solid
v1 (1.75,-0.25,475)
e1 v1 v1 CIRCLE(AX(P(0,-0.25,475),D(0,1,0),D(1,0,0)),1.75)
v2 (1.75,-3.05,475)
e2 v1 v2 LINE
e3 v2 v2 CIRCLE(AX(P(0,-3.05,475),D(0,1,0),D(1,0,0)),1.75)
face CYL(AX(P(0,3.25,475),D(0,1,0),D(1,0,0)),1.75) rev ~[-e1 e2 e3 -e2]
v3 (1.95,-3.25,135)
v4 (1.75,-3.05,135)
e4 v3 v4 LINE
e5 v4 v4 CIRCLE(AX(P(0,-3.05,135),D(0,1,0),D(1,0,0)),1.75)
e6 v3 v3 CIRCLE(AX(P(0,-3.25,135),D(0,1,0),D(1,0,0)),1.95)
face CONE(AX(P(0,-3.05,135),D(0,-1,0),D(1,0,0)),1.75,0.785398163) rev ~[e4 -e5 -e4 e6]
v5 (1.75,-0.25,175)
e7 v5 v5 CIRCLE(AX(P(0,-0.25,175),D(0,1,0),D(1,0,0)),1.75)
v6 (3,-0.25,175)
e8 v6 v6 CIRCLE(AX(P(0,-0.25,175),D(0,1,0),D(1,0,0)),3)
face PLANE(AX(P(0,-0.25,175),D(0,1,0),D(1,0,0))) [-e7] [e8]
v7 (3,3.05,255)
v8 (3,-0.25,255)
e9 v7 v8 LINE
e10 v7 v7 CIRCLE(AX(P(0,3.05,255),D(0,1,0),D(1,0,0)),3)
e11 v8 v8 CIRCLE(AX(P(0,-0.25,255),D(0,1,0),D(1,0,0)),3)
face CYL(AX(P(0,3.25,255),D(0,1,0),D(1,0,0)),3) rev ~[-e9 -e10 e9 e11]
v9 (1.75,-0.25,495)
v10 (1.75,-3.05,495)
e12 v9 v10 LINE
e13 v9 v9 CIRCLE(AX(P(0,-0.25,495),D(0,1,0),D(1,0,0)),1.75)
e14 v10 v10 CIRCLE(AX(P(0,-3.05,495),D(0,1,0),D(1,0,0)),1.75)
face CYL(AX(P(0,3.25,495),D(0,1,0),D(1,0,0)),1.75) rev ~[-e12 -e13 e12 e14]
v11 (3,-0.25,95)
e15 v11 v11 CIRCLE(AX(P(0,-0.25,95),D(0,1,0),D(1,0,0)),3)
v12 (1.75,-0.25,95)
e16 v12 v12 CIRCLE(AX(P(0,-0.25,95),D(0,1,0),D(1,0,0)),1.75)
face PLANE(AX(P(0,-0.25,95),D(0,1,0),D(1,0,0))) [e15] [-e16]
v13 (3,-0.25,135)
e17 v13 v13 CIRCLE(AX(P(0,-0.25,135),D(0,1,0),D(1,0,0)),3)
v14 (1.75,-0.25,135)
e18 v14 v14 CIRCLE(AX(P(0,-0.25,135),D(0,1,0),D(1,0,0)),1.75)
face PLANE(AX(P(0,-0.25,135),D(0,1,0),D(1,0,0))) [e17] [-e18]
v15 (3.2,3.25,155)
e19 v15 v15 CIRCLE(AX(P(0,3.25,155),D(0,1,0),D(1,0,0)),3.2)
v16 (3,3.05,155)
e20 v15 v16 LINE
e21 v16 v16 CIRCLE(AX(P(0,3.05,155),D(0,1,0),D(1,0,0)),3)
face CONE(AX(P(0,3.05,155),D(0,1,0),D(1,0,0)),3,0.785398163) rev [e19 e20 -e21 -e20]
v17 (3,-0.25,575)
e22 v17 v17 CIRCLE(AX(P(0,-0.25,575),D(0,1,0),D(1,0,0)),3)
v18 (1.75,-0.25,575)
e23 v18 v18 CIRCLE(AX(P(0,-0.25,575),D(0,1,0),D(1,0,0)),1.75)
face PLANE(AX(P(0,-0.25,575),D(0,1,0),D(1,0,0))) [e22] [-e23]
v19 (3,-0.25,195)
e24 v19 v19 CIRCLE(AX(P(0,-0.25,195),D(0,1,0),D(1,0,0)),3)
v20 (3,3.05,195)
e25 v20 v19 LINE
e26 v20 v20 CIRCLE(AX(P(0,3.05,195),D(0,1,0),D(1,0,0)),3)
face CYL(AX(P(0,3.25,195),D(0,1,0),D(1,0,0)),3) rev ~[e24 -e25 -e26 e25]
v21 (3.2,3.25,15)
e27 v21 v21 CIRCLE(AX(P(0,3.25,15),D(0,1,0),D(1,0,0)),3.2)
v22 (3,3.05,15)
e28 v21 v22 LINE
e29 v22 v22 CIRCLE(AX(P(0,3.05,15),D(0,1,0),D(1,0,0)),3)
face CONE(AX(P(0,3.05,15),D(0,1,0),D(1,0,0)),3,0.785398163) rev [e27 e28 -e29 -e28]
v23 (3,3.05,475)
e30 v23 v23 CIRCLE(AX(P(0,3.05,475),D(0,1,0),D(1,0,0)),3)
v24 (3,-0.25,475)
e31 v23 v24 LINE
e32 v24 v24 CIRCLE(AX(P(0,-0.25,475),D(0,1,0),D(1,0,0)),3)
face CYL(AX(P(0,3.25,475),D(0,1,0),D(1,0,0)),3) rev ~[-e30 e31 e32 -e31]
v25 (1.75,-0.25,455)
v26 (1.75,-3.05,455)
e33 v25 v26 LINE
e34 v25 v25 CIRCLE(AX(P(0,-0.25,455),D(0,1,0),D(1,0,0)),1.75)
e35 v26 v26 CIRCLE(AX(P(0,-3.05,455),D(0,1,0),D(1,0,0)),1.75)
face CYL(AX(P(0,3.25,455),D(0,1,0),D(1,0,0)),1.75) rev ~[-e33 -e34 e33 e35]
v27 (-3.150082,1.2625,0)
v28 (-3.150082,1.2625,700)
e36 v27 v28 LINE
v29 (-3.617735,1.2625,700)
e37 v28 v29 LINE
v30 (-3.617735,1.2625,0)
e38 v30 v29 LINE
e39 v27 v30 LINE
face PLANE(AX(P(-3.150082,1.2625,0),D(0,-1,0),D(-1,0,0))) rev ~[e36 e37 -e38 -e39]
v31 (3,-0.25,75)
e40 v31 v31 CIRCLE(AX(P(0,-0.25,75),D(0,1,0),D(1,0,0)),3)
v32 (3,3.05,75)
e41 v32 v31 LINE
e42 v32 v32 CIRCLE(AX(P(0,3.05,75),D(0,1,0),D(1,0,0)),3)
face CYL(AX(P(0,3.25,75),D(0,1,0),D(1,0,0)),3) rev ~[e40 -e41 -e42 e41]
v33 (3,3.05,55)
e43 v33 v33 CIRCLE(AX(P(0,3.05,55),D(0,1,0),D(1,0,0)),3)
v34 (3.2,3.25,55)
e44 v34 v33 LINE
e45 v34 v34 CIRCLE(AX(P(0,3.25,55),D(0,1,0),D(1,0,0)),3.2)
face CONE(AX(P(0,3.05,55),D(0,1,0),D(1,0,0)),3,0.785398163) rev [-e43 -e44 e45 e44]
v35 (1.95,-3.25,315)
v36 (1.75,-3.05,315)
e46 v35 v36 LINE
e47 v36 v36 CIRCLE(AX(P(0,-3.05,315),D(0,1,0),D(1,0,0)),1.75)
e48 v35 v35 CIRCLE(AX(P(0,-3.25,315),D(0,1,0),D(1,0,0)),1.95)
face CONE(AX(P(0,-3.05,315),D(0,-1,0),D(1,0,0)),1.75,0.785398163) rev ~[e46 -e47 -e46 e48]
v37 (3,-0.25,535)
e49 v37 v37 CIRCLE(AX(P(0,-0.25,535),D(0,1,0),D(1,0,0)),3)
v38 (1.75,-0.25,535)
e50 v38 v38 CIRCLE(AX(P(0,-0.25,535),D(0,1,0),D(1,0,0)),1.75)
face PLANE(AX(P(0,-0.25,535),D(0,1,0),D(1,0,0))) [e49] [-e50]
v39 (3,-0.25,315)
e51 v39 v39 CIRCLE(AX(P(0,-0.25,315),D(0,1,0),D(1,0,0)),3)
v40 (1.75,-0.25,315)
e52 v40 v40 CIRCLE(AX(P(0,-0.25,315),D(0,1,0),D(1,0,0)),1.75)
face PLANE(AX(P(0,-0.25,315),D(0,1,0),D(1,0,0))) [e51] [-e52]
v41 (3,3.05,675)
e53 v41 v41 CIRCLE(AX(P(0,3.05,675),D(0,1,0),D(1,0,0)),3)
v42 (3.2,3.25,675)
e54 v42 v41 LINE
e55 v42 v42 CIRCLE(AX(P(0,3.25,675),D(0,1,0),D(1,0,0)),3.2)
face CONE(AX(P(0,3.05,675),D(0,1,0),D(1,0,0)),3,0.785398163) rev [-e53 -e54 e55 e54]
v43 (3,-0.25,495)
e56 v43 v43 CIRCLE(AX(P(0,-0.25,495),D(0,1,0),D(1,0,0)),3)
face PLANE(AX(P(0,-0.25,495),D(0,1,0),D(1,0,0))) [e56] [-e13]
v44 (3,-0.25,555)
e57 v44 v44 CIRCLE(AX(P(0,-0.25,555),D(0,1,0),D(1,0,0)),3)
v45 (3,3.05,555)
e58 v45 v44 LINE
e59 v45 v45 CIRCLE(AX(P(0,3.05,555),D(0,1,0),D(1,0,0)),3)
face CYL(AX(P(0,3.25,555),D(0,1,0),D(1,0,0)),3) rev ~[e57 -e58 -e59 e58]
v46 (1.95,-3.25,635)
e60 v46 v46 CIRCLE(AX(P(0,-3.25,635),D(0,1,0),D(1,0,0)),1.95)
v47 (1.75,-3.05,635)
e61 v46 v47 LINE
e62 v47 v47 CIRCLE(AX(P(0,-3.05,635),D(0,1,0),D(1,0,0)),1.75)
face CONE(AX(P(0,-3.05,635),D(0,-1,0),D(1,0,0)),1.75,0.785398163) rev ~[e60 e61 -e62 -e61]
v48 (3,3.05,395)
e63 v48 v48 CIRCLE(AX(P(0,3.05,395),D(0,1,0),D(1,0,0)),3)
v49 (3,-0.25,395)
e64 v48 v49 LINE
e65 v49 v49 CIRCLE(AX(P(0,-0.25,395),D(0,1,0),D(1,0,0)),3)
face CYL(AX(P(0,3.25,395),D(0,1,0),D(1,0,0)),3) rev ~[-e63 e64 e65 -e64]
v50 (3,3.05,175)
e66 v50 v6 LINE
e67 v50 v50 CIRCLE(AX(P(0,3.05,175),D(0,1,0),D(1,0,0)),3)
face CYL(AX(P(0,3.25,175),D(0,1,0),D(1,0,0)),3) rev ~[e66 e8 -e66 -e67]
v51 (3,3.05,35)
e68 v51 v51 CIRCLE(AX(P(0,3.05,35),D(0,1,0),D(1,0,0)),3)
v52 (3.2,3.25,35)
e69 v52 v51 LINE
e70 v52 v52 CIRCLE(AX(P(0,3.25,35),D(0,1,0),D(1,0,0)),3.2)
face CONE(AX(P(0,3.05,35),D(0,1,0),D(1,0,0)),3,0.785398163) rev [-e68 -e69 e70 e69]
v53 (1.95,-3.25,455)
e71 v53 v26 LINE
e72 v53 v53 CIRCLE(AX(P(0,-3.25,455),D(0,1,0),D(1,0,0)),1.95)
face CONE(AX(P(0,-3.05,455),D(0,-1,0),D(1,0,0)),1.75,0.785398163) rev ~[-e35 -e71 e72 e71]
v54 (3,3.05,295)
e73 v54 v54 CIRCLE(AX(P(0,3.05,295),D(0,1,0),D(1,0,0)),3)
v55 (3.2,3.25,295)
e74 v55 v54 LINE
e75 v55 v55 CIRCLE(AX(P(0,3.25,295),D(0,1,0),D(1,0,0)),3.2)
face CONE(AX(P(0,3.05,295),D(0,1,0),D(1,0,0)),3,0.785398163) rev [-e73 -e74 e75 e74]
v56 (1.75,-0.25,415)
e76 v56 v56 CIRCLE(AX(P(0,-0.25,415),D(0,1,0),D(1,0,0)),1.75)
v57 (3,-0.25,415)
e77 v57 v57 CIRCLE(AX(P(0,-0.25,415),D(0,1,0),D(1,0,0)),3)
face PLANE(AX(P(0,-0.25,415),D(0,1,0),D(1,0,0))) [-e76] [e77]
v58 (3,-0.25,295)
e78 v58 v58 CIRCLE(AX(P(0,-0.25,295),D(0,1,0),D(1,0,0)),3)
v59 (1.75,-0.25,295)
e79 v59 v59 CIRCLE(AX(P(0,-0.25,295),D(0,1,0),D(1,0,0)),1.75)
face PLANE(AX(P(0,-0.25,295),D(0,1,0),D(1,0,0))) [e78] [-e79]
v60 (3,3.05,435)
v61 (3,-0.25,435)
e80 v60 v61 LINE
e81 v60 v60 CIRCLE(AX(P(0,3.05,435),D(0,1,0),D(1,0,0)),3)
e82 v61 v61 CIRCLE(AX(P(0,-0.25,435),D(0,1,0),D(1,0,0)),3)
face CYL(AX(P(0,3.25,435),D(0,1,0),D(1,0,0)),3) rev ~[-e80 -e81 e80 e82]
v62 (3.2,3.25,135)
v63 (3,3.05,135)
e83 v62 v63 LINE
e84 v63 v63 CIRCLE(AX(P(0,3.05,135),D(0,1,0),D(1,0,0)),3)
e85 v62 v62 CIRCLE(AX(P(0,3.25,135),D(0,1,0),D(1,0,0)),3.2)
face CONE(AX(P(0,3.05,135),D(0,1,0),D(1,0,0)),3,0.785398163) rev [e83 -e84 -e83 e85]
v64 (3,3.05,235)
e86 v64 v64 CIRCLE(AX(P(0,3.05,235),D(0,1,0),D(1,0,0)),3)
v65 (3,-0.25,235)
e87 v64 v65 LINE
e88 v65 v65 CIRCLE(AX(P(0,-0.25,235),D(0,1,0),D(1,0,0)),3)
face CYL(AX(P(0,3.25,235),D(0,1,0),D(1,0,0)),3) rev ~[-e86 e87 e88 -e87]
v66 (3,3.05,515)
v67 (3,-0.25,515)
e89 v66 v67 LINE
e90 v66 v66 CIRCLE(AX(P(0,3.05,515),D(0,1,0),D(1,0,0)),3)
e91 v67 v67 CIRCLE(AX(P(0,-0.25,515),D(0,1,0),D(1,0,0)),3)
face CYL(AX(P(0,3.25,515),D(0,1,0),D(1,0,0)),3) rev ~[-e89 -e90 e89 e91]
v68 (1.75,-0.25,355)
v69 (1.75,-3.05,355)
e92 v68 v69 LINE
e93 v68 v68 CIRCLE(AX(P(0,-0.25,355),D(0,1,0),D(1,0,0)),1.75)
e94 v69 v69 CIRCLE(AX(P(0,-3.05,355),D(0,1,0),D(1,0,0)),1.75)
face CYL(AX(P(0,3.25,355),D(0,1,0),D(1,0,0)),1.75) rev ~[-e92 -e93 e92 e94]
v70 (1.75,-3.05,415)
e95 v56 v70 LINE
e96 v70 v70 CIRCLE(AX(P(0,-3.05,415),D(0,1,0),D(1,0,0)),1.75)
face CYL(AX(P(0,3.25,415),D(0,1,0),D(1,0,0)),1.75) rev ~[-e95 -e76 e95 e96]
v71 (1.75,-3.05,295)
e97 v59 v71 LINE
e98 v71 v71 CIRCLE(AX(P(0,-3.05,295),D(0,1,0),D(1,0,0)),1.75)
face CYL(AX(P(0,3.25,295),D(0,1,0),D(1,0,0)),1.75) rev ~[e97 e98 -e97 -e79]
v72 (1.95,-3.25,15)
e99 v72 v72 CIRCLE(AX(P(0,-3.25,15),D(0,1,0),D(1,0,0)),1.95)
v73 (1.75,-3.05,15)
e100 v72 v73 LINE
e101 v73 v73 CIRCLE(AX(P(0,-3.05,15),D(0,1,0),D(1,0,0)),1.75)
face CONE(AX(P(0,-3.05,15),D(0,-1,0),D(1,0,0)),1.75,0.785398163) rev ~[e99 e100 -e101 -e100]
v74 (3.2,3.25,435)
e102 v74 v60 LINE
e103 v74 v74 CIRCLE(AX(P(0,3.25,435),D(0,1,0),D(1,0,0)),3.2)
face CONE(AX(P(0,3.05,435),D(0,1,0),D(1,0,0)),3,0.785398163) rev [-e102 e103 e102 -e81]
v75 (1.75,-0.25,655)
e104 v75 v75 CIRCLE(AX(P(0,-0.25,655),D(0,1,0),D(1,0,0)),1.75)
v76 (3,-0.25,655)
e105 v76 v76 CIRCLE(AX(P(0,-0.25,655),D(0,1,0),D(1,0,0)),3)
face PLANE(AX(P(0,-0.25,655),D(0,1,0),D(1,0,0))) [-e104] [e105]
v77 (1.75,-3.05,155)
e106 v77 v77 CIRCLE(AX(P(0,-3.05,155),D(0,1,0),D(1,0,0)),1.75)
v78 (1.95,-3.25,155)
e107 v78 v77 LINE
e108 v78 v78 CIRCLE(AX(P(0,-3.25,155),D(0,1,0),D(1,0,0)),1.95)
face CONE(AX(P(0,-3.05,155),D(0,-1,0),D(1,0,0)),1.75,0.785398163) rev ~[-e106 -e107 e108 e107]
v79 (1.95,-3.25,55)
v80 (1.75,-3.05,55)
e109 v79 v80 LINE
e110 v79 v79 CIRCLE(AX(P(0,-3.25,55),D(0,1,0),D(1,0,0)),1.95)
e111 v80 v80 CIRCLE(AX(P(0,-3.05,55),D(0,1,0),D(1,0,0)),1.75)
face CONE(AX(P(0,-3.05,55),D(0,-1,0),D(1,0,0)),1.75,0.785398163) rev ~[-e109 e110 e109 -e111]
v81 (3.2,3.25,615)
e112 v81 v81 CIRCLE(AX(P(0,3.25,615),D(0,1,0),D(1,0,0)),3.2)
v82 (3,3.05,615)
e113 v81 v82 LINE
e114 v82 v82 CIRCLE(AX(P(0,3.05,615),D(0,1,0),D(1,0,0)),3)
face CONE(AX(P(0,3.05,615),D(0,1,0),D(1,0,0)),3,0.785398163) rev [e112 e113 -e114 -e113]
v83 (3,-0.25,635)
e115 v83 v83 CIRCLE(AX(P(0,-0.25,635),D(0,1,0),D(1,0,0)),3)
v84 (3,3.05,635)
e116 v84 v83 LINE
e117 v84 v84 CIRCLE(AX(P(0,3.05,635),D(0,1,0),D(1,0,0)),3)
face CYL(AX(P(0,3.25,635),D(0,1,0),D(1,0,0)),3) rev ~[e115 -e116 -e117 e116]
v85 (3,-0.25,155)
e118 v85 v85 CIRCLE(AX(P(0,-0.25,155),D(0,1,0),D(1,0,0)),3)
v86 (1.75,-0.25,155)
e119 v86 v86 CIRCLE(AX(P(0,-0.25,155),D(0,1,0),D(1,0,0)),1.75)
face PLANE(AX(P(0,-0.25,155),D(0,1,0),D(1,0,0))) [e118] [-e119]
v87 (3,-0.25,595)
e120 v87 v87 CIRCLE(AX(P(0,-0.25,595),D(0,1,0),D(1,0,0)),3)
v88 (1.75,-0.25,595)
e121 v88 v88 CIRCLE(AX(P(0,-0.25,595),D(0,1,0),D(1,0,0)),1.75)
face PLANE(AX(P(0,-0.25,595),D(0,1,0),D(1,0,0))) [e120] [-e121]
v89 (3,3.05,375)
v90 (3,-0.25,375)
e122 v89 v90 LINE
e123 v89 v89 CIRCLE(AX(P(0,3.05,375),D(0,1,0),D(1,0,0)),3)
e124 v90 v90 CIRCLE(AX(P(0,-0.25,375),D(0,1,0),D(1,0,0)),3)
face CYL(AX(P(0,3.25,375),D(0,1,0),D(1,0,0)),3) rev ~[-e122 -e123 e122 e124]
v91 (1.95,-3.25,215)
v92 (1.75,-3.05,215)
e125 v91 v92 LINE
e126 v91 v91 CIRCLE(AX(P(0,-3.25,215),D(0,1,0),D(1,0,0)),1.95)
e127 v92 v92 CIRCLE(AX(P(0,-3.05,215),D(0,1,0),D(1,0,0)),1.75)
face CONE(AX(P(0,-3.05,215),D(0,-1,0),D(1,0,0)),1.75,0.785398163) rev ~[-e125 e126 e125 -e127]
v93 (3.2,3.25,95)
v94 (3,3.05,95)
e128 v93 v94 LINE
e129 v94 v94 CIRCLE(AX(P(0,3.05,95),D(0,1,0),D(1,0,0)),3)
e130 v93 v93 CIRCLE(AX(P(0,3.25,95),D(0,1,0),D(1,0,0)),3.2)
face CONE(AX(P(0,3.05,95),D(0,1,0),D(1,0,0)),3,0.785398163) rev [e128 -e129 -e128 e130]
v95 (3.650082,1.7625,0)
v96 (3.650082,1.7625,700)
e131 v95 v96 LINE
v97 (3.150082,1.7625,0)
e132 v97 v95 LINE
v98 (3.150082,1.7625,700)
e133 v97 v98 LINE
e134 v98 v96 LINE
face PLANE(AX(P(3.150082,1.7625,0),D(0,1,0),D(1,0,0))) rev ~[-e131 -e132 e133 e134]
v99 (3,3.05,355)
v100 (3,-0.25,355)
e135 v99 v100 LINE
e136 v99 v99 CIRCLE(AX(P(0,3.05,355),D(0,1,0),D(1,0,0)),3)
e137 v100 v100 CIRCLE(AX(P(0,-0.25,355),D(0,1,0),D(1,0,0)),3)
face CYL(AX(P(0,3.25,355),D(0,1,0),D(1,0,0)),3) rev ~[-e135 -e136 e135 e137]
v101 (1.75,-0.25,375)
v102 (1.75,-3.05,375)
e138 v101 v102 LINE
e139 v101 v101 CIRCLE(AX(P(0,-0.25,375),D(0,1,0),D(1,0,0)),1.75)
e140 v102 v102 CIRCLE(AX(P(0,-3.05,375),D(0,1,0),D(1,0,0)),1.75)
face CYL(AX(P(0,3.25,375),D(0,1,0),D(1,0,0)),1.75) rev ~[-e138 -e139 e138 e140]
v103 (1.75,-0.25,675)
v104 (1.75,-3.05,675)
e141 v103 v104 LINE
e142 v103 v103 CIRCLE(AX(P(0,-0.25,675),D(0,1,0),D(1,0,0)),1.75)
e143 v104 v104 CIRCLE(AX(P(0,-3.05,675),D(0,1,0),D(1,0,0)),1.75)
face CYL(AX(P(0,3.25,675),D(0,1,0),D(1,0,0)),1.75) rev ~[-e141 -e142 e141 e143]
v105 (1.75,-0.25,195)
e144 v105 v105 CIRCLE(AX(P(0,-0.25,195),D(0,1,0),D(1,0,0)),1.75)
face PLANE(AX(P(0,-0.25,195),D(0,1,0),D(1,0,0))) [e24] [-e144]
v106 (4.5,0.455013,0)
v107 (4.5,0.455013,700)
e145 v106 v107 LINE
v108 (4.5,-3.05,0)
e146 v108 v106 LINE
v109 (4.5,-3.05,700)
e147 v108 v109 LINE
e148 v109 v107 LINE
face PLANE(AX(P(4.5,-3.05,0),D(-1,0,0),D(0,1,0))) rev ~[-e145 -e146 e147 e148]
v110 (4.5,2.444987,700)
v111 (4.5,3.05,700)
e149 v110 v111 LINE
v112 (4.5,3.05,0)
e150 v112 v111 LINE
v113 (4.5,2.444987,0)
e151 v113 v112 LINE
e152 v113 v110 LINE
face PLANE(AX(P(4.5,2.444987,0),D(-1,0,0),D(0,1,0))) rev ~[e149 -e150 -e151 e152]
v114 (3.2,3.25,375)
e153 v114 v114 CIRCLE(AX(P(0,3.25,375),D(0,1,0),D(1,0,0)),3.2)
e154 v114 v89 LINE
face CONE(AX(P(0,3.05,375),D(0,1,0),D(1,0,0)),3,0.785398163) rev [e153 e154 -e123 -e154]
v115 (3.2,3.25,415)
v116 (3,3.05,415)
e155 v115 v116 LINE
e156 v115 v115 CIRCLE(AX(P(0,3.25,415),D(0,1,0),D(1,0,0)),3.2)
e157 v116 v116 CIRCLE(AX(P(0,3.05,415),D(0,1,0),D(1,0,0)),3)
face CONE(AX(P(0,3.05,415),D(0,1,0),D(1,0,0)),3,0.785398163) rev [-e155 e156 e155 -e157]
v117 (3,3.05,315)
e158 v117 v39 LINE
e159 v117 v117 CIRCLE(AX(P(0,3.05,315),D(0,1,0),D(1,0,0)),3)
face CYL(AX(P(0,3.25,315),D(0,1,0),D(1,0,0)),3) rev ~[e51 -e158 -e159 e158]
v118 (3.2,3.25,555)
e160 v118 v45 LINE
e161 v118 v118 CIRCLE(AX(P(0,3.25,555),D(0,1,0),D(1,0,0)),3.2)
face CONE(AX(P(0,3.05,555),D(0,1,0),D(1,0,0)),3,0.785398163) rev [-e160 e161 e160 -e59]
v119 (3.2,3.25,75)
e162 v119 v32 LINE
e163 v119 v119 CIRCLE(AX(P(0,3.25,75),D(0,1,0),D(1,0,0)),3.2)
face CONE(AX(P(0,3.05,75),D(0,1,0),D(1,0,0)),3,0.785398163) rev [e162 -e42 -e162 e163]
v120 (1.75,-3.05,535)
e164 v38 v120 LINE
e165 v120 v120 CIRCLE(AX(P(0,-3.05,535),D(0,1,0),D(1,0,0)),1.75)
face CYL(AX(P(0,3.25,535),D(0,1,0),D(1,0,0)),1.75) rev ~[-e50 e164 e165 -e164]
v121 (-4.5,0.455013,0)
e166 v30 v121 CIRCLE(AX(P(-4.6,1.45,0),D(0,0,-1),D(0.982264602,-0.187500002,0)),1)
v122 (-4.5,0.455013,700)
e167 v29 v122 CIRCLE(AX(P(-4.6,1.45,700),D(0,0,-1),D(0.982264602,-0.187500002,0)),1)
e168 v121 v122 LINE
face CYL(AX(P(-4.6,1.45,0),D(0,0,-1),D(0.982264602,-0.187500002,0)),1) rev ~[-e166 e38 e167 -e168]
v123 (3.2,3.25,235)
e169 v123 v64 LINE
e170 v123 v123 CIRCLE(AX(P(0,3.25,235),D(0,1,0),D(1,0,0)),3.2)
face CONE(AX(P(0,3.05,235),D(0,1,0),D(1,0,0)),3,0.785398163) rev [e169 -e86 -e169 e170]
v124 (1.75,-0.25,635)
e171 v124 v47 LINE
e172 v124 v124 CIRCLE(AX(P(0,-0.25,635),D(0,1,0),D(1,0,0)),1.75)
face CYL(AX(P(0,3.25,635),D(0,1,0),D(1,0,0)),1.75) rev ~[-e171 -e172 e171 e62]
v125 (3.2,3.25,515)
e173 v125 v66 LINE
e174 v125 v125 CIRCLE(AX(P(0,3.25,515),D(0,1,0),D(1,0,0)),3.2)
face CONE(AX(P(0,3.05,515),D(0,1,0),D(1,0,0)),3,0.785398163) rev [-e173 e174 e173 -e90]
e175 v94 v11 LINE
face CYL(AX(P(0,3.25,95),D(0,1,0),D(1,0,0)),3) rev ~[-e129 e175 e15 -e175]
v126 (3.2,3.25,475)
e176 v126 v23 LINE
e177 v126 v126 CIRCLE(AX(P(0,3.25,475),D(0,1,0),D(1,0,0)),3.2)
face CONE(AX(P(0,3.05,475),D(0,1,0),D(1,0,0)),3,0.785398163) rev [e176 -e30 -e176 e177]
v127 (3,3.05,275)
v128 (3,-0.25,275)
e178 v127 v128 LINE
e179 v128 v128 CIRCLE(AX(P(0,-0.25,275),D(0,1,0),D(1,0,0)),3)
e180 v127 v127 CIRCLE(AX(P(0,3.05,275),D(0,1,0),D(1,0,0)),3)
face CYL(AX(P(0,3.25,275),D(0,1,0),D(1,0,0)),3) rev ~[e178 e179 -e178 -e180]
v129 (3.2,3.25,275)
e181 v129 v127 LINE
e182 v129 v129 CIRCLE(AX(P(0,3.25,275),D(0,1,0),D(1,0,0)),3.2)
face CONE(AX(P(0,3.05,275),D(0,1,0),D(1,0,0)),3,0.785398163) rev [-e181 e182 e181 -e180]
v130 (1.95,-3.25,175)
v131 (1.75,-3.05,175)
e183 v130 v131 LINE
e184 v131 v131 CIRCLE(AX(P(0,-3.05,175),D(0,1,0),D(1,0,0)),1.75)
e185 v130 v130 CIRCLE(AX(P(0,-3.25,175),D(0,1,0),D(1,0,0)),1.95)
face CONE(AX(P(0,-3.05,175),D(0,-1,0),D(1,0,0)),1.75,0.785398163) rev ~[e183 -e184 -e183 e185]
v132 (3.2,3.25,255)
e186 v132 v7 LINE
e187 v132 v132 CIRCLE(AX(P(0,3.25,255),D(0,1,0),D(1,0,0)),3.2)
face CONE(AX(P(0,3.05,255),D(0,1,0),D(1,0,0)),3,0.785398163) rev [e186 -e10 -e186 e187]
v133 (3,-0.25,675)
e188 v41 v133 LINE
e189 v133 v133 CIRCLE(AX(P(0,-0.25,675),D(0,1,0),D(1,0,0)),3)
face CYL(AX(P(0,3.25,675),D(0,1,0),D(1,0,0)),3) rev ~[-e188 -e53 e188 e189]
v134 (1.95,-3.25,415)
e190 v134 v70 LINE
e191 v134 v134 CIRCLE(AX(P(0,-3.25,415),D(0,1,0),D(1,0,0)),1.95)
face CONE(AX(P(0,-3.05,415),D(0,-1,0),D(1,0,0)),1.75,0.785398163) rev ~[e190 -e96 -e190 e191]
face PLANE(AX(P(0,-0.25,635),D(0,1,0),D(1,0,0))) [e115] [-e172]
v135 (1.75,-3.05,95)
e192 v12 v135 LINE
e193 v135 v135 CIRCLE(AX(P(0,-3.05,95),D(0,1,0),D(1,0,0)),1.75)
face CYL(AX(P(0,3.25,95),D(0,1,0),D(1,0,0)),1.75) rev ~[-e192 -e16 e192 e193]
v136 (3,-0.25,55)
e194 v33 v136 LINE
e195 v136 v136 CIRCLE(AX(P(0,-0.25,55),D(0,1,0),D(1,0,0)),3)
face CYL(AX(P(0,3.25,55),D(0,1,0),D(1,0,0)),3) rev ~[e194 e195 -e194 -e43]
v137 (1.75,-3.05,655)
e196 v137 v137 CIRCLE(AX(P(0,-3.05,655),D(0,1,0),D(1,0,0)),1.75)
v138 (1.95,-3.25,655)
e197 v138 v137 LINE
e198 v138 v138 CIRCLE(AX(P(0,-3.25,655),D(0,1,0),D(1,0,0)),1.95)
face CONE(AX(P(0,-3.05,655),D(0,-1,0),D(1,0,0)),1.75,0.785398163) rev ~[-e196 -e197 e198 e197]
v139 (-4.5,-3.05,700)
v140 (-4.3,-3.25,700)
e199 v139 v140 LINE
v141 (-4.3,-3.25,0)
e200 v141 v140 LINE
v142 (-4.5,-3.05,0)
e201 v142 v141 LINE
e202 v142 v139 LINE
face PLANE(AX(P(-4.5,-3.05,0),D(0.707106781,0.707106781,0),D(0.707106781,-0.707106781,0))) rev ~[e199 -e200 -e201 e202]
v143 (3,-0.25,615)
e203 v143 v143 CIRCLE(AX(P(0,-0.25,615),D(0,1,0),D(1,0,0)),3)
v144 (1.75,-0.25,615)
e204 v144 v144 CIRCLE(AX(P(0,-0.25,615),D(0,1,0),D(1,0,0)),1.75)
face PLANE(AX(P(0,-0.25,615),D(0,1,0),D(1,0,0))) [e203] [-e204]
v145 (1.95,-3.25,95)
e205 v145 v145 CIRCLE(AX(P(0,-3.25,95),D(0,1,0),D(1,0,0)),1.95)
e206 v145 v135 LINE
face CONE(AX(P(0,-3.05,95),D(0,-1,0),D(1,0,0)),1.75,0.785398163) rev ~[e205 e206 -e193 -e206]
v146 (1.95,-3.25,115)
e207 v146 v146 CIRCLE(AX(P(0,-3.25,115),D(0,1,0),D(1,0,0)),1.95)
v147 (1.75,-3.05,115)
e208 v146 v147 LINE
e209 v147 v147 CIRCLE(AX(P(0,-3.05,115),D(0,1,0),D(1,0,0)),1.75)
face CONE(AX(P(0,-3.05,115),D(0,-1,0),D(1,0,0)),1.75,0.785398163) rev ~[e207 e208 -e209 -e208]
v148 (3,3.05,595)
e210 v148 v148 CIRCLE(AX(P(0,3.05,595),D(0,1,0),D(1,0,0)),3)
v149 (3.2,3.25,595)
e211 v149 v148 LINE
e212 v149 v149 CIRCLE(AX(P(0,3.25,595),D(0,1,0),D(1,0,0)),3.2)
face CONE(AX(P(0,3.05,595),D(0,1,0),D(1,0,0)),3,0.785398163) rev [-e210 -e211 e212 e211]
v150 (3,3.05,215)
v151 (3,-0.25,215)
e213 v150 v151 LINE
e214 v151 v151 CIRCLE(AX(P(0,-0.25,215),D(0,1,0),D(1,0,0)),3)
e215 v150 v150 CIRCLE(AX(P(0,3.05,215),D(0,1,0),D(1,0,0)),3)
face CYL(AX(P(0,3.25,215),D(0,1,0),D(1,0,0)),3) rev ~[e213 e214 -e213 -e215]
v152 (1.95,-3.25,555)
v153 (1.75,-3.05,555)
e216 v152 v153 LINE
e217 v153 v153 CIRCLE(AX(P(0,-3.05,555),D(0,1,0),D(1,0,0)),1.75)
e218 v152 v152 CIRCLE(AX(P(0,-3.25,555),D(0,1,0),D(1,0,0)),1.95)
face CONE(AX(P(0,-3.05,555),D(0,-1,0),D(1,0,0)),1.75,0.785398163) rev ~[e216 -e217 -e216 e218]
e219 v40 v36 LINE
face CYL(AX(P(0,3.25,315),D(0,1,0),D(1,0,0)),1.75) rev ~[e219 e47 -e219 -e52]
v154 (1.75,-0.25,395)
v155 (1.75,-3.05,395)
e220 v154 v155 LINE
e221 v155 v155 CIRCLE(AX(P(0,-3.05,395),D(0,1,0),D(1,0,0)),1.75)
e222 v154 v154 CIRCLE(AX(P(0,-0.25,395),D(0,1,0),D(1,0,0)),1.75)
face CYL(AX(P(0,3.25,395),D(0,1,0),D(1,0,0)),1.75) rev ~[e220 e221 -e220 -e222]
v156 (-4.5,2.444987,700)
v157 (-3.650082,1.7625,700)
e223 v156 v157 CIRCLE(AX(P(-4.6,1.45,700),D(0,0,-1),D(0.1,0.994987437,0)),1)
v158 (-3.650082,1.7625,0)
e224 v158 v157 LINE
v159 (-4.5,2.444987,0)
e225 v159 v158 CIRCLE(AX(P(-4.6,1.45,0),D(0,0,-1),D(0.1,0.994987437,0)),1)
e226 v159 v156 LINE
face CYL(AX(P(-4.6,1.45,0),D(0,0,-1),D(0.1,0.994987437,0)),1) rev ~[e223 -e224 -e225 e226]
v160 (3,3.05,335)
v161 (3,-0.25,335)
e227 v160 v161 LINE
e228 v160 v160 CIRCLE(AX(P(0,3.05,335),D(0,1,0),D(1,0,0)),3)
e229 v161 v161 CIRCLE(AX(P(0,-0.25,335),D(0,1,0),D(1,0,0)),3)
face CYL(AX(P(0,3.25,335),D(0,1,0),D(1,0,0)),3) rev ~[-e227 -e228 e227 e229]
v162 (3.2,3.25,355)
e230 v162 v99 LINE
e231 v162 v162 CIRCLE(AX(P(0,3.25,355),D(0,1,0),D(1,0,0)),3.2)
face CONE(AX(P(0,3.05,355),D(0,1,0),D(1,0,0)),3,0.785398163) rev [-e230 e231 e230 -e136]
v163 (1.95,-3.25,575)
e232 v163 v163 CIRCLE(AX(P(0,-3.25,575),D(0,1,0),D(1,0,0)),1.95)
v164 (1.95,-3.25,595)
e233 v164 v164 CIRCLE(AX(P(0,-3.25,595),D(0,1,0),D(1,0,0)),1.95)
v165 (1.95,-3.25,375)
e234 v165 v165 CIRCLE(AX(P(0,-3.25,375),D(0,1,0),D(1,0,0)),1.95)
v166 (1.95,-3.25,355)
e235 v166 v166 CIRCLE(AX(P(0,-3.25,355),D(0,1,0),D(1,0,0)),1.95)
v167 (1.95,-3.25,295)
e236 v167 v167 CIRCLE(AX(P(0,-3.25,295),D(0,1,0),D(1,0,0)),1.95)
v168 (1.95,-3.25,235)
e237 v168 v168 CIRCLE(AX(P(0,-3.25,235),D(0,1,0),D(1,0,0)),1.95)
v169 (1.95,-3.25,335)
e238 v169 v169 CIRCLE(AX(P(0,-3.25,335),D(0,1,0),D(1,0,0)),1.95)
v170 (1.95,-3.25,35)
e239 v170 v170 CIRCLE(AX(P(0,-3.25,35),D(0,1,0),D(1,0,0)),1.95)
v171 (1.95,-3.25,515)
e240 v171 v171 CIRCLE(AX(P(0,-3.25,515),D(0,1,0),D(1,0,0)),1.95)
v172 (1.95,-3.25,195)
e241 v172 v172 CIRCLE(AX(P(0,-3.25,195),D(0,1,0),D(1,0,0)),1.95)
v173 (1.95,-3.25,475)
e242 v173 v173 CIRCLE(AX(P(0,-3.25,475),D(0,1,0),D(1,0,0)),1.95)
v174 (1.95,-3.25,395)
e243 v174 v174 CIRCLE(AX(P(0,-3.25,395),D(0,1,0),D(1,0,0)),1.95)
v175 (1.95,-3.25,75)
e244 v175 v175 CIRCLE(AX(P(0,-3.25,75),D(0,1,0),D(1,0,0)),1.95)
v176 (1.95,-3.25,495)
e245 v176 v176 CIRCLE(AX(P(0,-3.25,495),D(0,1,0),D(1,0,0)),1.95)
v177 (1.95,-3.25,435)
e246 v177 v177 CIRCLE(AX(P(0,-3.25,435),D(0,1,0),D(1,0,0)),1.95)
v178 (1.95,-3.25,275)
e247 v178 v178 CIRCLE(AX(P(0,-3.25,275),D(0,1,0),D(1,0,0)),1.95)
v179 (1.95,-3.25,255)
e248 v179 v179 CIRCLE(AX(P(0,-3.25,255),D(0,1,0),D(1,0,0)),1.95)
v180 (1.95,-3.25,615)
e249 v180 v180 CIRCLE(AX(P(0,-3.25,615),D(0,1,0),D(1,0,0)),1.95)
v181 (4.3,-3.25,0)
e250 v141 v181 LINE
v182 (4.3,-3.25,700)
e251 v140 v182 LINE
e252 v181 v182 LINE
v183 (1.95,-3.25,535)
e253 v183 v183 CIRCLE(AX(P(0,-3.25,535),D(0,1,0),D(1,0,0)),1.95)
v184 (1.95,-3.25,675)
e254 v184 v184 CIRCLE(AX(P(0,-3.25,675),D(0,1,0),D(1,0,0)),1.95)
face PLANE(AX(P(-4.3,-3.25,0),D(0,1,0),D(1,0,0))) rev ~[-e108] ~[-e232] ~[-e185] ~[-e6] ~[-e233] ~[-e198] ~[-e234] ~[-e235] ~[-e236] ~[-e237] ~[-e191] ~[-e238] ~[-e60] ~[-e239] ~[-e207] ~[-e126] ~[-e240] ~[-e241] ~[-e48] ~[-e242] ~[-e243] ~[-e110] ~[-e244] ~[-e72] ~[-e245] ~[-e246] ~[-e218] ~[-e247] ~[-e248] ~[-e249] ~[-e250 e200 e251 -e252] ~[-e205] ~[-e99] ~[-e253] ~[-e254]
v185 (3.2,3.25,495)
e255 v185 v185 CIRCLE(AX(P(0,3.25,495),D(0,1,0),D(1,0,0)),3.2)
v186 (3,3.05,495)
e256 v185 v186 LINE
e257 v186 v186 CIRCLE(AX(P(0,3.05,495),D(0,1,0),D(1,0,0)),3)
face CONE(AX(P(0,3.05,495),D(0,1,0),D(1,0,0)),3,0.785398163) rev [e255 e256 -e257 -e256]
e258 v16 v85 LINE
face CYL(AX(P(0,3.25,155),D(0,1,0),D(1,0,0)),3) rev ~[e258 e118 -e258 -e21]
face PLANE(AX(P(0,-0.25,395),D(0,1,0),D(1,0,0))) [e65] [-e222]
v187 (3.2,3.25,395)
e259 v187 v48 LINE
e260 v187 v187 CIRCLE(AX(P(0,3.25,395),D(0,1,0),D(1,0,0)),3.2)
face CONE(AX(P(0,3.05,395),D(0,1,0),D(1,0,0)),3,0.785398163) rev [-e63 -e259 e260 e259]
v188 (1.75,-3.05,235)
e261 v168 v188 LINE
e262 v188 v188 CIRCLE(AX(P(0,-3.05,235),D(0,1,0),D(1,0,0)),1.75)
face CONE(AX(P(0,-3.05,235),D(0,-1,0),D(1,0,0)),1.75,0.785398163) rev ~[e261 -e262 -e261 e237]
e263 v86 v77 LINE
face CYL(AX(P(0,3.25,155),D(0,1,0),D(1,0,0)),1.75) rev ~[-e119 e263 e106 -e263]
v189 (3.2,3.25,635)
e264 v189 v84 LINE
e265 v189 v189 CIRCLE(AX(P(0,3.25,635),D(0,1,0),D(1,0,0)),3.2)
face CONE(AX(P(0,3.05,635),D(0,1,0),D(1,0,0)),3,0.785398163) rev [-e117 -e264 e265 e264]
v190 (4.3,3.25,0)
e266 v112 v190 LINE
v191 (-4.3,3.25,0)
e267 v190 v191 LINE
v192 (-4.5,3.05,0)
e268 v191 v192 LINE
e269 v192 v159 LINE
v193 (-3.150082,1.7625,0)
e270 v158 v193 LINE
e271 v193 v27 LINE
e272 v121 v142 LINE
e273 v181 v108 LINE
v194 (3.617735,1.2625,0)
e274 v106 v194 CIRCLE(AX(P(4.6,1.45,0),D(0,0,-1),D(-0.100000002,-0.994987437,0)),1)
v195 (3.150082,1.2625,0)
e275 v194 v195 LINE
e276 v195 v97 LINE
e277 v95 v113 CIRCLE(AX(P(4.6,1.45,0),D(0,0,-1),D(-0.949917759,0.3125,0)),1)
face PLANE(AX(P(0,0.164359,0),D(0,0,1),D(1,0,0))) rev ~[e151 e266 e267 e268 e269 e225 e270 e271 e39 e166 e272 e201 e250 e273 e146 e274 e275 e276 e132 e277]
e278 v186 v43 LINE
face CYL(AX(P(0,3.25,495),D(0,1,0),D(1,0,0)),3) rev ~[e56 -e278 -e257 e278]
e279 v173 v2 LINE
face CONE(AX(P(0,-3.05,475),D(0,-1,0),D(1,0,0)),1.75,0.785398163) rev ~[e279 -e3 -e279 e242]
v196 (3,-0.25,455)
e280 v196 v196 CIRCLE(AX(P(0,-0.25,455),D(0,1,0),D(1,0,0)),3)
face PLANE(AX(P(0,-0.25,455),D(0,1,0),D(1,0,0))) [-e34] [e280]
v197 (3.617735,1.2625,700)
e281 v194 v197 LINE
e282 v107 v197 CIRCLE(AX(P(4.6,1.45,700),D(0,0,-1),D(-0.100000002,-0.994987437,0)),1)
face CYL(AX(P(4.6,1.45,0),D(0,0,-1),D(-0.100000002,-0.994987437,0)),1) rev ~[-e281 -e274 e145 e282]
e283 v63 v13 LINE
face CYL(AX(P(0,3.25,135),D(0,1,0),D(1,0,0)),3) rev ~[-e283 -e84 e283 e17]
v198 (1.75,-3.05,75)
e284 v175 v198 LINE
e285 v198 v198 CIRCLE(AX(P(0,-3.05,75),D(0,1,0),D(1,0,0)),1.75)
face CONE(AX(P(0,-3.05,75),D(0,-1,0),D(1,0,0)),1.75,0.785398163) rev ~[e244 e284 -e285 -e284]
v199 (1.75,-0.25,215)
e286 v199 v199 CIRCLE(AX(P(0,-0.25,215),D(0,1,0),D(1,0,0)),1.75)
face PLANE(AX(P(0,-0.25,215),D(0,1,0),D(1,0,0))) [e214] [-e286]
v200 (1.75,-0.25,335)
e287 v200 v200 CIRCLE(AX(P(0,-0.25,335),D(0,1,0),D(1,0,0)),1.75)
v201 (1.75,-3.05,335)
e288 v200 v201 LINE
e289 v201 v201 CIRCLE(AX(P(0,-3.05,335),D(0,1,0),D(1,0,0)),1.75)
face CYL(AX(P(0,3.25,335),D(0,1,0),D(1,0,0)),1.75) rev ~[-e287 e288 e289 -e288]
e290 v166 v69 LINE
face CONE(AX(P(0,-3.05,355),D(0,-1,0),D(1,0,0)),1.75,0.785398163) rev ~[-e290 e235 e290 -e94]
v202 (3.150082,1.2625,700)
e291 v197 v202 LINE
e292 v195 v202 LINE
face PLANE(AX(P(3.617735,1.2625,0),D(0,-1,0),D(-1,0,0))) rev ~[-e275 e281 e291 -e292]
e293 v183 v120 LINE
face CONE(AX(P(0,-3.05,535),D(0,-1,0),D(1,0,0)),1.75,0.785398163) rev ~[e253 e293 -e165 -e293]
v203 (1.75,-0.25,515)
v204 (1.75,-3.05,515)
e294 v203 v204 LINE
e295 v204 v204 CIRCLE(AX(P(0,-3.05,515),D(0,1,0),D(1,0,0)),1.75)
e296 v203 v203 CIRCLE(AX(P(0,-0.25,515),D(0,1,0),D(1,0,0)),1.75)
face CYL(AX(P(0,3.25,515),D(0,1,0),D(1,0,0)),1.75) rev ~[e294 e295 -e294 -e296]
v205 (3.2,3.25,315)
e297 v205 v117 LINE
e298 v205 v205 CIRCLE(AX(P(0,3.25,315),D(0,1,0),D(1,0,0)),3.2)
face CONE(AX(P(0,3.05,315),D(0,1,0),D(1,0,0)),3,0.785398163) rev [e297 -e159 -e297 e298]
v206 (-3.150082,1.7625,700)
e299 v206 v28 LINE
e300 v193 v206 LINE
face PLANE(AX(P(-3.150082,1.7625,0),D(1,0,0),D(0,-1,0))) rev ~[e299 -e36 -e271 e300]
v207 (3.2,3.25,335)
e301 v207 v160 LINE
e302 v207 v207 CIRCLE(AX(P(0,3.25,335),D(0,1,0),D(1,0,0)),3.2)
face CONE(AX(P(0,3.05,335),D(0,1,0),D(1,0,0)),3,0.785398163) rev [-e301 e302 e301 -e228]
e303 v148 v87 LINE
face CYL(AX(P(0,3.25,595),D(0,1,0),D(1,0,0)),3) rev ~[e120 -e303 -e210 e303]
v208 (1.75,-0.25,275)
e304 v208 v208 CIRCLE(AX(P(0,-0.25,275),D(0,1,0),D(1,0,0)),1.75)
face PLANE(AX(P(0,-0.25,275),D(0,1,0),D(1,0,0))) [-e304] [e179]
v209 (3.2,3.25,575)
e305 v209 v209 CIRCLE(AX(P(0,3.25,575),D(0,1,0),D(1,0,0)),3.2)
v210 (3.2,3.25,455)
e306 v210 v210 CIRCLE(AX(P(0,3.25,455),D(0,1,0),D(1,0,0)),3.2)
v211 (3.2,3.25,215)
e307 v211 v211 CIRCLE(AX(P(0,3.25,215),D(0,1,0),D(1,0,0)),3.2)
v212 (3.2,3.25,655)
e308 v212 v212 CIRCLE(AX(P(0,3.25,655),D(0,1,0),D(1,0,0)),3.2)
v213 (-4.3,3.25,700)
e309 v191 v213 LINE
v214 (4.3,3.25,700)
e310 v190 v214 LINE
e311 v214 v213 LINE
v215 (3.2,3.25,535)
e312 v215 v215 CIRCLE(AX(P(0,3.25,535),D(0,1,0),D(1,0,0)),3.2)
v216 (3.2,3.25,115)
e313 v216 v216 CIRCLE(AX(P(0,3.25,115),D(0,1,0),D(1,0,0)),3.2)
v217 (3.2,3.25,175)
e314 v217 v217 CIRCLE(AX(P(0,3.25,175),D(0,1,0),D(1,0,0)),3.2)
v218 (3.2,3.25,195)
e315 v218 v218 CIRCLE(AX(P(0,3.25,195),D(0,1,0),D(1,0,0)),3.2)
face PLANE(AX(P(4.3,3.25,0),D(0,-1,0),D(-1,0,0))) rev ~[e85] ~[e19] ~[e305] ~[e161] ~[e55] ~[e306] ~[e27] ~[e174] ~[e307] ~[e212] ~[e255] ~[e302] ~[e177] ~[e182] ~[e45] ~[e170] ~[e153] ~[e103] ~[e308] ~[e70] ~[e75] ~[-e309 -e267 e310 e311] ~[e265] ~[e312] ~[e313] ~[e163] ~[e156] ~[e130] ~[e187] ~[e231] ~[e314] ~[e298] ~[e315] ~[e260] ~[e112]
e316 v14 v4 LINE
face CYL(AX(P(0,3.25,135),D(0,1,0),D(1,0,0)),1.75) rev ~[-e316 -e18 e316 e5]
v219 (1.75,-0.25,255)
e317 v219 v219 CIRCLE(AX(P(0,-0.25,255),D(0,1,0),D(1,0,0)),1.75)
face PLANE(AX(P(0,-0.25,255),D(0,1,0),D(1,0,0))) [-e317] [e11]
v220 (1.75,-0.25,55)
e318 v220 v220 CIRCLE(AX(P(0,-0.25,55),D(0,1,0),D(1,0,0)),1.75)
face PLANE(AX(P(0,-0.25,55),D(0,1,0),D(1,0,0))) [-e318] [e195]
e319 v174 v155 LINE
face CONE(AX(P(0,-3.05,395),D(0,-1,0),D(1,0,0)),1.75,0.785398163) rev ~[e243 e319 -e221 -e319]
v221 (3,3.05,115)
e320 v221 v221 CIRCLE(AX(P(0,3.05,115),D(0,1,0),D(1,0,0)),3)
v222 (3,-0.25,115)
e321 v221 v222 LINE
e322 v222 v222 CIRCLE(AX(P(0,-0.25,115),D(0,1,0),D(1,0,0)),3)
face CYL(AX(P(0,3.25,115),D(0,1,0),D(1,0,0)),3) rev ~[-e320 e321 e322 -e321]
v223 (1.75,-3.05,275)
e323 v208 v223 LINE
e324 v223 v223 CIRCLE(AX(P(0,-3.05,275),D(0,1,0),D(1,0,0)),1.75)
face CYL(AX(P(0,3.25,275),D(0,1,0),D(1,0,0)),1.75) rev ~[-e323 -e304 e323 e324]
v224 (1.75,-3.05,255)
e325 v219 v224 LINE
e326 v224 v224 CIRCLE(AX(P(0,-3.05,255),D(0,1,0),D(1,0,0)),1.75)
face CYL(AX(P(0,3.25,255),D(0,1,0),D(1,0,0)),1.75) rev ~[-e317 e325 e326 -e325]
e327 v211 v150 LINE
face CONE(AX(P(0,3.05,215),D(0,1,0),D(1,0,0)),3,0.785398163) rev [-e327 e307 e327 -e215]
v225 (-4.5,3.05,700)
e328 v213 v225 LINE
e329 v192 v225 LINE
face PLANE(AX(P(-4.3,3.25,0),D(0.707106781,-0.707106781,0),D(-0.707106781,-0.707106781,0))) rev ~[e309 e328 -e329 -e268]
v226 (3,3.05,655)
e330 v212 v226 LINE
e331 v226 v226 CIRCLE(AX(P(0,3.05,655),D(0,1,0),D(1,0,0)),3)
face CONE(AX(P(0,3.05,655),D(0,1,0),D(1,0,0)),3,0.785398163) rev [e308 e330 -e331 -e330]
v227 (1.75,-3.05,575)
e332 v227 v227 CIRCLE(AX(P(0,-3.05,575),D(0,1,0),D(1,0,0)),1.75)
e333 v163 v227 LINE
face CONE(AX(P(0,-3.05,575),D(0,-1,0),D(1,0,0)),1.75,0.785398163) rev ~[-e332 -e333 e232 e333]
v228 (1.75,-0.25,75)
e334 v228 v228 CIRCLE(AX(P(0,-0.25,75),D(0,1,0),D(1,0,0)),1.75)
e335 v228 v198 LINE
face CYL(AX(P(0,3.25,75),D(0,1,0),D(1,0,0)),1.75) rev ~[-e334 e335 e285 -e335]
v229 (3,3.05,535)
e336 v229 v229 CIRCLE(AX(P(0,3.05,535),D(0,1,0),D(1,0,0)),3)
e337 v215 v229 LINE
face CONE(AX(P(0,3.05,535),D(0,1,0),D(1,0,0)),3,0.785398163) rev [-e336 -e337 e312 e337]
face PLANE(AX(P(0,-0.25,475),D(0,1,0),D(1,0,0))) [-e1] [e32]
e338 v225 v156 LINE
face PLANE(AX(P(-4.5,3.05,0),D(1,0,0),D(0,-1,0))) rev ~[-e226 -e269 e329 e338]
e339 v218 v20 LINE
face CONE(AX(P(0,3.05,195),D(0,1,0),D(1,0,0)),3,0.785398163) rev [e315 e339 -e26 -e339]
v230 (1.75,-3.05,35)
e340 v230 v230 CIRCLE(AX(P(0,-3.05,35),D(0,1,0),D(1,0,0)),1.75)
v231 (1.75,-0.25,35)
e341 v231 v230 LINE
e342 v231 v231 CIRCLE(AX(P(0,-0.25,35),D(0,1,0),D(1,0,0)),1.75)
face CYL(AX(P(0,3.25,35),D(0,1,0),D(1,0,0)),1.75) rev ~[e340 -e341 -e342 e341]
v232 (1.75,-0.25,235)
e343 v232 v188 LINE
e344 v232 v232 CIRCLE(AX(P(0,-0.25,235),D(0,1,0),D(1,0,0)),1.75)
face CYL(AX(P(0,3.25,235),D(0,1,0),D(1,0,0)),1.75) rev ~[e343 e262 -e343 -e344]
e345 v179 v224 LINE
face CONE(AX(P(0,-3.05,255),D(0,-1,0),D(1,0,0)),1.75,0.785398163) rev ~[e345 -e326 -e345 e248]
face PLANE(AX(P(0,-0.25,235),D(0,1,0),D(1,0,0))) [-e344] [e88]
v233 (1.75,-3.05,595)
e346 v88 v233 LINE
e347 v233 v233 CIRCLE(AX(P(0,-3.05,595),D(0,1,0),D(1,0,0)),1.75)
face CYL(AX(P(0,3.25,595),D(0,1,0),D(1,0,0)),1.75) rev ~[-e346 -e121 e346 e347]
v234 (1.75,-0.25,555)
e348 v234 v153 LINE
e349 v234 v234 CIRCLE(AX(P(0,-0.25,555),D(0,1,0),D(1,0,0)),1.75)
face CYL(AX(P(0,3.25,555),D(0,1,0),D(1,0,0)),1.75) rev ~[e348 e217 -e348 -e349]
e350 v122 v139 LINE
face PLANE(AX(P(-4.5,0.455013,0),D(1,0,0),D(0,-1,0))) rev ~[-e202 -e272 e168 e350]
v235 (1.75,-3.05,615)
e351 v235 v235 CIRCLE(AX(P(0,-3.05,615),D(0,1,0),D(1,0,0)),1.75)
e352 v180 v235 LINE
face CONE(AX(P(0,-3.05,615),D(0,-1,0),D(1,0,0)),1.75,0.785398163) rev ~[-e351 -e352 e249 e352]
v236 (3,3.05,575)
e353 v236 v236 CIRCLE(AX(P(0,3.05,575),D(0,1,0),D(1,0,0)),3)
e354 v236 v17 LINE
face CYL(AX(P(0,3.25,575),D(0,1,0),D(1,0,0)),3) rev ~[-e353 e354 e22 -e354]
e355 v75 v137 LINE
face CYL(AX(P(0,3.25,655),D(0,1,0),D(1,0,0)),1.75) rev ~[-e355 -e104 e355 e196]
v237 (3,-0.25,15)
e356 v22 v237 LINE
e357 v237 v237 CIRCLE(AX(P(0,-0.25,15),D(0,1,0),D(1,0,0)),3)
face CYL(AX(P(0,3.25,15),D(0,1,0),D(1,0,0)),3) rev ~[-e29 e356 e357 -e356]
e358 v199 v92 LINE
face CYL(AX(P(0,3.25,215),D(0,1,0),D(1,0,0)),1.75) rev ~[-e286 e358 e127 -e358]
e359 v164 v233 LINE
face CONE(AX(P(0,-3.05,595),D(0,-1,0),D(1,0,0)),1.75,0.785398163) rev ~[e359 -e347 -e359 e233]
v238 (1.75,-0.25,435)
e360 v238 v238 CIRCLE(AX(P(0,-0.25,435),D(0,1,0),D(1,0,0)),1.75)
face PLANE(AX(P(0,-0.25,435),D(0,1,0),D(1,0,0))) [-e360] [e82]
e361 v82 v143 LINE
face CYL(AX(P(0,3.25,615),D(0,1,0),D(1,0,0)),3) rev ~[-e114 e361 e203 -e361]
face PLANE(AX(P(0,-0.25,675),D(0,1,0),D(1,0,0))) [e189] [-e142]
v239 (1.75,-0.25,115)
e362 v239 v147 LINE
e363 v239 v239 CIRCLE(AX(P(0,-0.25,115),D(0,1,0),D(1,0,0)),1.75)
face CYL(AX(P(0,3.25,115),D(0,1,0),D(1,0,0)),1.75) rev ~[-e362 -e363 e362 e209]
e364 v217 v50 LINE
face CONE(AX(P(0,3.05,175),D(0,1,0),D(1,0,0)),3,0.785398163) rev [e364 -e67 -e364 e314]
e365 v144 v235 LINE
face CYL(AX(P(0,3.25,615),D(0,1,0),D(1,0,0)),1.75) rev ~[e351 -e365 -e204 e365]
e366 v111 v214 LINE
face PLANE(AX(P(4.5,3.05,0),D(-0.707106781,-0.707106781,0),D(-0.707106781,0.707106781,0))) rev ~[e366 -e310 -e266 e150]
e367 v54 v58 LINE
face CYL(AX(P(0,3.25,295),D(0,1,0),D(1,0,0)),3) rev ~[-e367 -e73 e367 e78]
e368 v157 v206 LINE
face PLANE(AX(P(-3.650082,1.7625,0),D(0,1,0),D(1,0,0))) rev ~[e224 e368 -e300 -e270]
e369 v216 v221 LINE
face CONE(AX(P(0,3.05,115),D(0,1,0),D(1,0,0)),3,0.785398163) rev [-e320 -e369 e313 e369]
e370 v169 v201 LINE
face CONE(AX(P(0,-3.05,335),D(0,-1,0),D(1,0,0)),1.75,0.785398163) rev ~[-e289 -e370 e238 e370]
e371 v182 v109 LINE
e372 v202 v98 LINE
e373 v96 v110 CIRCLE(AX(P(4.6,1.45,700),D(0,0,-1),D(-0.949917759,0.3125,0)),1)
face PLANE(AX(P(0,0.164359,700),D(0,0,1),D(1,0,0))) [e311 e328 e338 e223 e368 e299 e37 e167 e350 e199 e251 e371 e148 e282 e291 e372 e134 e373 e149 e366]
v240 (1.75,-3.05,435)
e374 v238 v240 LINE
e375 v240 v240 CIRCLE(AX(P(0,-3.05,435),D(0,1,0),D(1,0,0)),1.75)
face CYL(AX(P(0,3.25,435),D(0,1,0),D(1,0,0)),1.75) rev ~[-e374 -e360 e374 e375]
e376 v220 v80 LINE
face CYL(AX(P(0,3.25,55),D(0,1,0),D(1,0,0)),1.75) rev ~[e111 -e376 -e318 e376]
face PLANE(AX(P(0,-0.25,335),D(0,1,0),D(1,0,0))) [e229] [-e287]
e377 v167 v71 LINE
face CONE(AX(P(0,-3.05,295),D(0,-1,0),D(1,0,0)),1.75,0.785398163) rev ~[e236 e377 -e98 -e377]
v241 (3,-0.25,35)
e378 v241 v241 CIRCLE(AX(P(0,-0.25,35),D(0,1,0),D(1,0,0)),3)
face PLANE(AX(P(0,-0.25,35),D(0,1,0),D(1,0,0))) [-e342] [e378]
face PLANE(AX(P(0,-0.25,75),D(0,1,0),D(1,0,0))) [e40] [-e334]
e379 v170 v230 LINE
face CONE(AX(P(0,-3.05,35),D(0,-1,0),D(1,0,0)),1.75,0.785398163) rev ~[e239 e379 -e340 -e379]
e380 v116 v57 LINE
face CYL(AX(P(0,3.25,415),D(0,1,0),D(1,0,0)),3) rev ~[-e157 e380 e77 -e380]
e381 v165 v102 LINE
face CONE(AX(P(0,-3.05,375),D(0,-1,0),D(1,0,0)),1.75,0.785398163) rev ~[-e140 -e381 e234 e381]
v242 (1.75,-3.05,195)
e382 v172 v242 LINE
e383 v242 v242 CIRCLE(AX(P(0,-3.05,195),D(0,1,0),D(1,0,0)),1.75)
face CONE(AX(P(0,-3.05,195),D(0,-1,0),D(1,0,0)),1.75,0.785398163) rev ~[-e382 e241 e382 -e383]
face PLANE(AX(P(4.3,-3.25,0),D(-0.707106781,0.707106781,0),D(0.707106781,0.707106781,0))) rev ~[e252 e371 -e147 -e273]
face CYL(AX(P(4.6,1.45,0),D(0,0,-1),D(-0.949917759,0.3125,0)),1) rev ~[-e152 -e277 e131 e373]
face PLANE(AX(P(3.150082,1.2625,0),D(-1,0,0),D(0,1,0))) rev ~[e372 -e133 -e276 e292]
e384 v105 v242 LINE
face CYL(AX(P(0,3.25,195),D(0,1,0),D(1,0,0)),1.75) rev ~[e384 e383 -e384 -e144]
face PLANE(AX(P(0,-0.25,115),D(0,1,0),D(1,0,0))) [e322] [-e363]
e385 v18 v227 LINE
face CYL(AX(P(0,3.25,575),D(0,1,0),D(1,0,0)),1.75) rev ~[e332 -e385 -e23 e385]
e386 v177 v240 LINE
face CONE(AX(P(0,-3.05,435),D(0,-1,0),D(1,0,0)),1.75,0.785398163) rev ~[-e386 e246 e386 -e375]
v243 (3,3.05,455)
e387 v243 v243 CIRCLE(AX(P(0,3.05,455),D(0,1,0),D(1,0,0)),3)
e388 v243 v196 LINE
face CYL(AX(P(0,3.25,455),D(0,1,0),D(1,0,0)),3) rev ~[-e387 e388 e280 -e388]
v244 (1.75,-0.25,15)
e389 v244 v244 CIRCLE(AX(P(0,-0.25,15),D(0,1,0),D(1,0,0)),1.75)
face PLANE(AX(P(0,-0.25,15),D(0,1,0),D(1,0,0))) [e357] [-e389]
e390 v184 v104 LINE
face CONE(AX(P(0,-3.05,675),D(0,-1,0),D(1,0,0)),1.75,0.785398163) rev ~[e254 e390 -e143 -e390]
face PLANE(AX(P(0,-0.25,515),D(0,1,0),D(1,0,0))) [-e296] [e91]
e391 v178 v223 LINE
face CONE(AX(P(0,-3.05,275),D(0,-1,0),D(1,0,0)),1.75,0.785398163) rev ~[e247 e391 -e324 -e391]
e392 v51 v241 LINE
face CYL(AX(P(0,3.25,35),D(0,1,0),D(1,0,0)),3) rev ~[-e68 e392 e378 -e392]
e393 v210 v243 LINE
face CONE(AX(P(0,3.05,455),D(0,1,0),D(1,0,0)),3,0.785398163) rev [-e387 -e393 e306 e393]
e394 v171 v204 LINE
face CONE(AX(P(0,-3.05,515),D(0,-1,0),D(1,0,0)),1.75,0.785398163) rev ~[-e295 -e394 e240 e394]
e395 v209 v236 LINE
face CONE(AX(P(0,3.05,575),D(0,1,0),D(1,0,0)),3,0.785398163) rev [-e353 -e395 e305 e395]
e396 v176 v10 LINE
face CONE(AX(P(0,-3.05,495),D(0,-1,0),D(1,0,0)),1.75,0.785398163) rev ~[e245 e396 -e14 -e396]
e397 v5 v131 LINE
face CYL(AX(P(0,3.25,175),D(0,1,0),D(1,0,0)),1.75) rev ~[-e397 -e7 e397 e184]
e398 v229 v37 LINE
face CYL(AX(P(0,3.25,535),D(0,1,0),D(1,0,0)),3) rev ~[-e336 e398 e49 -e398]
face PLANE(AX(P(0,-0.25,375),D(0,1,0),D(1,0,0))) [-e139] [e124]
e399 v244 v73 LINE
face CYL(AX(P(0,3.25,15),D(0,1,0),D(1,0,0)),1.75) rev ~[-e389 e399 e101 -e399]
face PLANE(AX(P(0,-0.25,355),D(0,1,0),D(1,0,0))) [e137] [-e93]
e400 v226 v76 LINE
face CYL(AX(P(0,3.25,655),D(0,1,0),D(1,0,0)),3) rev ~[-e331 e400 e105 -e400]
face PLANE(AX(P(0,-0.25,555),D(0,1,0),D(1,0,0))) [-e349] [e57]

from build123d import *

# Parameters (mm, degrees)
EXTRUDE1_DEPTH             = 700
EXTRUDE2_REACH             = 702.045
SKETCH2_R                  = 1.75
SKETCH_R                   = 3
SKETCH_R_2                 = 1.75
EXTRUDE4_DEPTH             = 3.5
CHAMFER1_SIZE              = 0.2
LPATTERN1_COUNT            = 34
LPATTERN1_PITCH            = 20
CHAMFER1_OF_LPATTERN1_SIZE = 0.2


with BuildPart() as part:
    # Sketch1 → Extrude1 (new body)
    with BuildSketch(Plane.XY):
        with BuildLine():
            Line((-4.3, -3.25), (4.3, -3.25))
            Line((4.3, -3.25), (4.5, -3.05))
            Line((4.5, -3.05), (4.5, 0.455012563))
            ThreePointArc((4.5, 0.455012563), (3.924845827, 0.712323349), (3.617735397, 1.2625))
            Line((3.617735397, 1.2625), (3.15008224, 1.2625))
            Line((3.15008224, 1.2625), (3.15008224, 1.7625))
            Line((3.15008224, 1.7625), (3.65008224, 1.7625))
            ThreePointArc((3.65008224, 1.7625), (3.973877727, 2.229724887), (4.5, 2.444987437))
            Line((4.5, 2.444987437), (4.5, 3.05))
            Line((4.5, 3.05), (4.3, 3.25))
            Line((4.3, 3.25), (-4.3, 3.25))
            Line((-4.3, 3.25), (-4.5, 3.05))
            Line((-4.5, 3.05), (-4.5, 2.444987437))
            ThreePointArc((-4.5, 2.444987437), (-3.973877727, 2.229724887), (-3.65008224, 1.7625))
            Line((-3.65008224, 1.7625), (-3.15008224, 1.7625))
            Line((-3.15008224, 1.7625), (-3.15008224, 1.2625))
            Line((-3.15008224, 1.2625), (-3.617735397, 1.2625))
            ThreePointArc((-3.617735397, 1.2625), (-3.924845827, 0.712323349), (-4.5, 0.455012563))
            Line((-4.5, 0.455012563), (-4.5, -3.05))
            Line((-4.5, -3.05), (-4.3, -3.25))
        make_face()
    extrude(amount=EXTRUDE1_DEPTH)

    # Sketch2 → Extrude2 (cut, up to next)
    with BuildSketch(Plane(origin=(0, 3.25, 0), x_dir=(1, 0, 0), z_dir=(0, 1, 0)), mode=Mode.PRIVATE) as extrude2_sk1:
        with Locations((0, -15)):
            Circle(SKETCH2_R)
    extrude2_tool1 = extrude(extrude2_sk1.sketch, amount=-EXTRUDE2_REACH, mode=Mode.PRIVATE) & part.part
    extrude2 = extrude2_tool1.solids().sort_by_distance((0, 3.25, 15))[0]
    add(extrude2, mode=Mode.SUBTRACT)

    # Sketch → Extrude4 (cut)
    with BuildSketch(Plane(origin=(0, 3.25, 0), x_dir=(1, 0, 0), z_dir=(0, 1, 0))):
        with Locations((0, -15)):
            Circle(SKETCH_R)
        with Locations((0, -15)):
            Circle(SKETCH_R_2, mode=Mode.SUBTRACT)
    extrude4 = extrude(amount=-EXTRUDE4_DEPTH, mode=Mode.SUBTRACT)

    # Chamfer1
    chamfer1_edges = [part.edges().sort_by_distance(p)[0] for p in [
        (-1.75, -3.25, 15),
        (-3, 3.25, 15),
    ]]
    chamfer(chamfer1_edges, length=CHAMFER1_SIZE)

    # LPattern1: Extrude2, Extrude4 ×34
    with Locations(*[(0, 0, i * LPATTERN1_PITCH) for i in range(1, LPATTERN1_COUNT)]):
        add(extrude2, mode=Mode.SUBTRACT)
        add(extrude4, mode=Mode.SUBTRACT)

    # Chamfer1 of LPattern1
    chamfer1_of_lpattern1_edges = [part.edges().sort_by_distance(p)[0] for p in [
        (-1.75, -3.25, 35),
        (-3, 3.25, 35),
        (-1.75, -3.25, 55),
        (-3, 3.25, 55),
        (-1.75, -3.25, 75),
        (-3, 3.25, 75),
        (-1.75, -3.25, 95),
        (-3, 3.25, 95),
        (-1.75, -3.25, 115),
        (-3, 3.25, 115),
        (-1.75, -3.25, 135),
        (-3, 3.25, 135),
        (-1.75, -3.25, 155),
        (-3, 3.25, 155),
        (-1.75, -3.25, 175),
        (-3, 3.25, 175),
        (-1.75, -3.25, 195),
        (-3, 3.25, 195),
        (-1.75, -3.25, 215),
        (-3, 3.25, 215),
        (-1.75, -3.25, 235),
        (-3, 3.25, 235),
        (-1.75, -3.25, 255),
        (-3, 3.25, 255),
        (-1.75, -3.25, 275),
        (-3, 3.25, 275),
        (-1.75, -3.25, 295),
        (-3, 3.25, 295),
        (-1.75, -3.25, 315),
        (-3, 3.25, 315),
        (-1.75, -3.25, 335),
        (-3, 3.25, 335),
        (-1.75, -3.25, 355),
        (-3, 3.25, 355),
        (-1.75, -3.25, 375),
        (-3, 3.25, 375),
        (-1.75, -3.25, 395),
        (-3, 3.25, 395),
        (-1.75, -3.25, 415),
        (-3, 3.25, 415),
        (-1.75, -3.25, 435),
        (-3, 3.25, 435),
        (-1.75, -3.25, 455),
        (-3, 3.25, 455),
        (-1.75, -3.25, 475),
        (-3, 3.25, 475),
        (-1.75, -3.25, 495),
        (-3, 3.25, 495),
        (-1.75, -3.25, 515),
        (-3, 3.25, 515),
        (-1.75, -3.25, 535),
        (-3, 3.25, 535),
        (-1.75, -3.25, 555),
        (-3, 3.25, 555),
        (-1.75, -3.25, 575),
        (-3, 3.25, 575),
        (-1.75, -3.25, 595),
        (-3, 3.25, 595),
        (-1.75, -3.25, 615),
        (-3, 3.25, 615),
        (-1.75, -3.25, 635),
        (-3, 3.25, 635),
        (-1.75, -3.25, 655),
        (-3, 3.25, 655),
        (-1.75, -3.25, 675),
        (-3, 3.25, 675),
    ]]
    chamfer(chamfer1_of_lpattern1_edges, length=CHAMFER1_OF_LPATTERN1_SIZE)


solid = part.part
